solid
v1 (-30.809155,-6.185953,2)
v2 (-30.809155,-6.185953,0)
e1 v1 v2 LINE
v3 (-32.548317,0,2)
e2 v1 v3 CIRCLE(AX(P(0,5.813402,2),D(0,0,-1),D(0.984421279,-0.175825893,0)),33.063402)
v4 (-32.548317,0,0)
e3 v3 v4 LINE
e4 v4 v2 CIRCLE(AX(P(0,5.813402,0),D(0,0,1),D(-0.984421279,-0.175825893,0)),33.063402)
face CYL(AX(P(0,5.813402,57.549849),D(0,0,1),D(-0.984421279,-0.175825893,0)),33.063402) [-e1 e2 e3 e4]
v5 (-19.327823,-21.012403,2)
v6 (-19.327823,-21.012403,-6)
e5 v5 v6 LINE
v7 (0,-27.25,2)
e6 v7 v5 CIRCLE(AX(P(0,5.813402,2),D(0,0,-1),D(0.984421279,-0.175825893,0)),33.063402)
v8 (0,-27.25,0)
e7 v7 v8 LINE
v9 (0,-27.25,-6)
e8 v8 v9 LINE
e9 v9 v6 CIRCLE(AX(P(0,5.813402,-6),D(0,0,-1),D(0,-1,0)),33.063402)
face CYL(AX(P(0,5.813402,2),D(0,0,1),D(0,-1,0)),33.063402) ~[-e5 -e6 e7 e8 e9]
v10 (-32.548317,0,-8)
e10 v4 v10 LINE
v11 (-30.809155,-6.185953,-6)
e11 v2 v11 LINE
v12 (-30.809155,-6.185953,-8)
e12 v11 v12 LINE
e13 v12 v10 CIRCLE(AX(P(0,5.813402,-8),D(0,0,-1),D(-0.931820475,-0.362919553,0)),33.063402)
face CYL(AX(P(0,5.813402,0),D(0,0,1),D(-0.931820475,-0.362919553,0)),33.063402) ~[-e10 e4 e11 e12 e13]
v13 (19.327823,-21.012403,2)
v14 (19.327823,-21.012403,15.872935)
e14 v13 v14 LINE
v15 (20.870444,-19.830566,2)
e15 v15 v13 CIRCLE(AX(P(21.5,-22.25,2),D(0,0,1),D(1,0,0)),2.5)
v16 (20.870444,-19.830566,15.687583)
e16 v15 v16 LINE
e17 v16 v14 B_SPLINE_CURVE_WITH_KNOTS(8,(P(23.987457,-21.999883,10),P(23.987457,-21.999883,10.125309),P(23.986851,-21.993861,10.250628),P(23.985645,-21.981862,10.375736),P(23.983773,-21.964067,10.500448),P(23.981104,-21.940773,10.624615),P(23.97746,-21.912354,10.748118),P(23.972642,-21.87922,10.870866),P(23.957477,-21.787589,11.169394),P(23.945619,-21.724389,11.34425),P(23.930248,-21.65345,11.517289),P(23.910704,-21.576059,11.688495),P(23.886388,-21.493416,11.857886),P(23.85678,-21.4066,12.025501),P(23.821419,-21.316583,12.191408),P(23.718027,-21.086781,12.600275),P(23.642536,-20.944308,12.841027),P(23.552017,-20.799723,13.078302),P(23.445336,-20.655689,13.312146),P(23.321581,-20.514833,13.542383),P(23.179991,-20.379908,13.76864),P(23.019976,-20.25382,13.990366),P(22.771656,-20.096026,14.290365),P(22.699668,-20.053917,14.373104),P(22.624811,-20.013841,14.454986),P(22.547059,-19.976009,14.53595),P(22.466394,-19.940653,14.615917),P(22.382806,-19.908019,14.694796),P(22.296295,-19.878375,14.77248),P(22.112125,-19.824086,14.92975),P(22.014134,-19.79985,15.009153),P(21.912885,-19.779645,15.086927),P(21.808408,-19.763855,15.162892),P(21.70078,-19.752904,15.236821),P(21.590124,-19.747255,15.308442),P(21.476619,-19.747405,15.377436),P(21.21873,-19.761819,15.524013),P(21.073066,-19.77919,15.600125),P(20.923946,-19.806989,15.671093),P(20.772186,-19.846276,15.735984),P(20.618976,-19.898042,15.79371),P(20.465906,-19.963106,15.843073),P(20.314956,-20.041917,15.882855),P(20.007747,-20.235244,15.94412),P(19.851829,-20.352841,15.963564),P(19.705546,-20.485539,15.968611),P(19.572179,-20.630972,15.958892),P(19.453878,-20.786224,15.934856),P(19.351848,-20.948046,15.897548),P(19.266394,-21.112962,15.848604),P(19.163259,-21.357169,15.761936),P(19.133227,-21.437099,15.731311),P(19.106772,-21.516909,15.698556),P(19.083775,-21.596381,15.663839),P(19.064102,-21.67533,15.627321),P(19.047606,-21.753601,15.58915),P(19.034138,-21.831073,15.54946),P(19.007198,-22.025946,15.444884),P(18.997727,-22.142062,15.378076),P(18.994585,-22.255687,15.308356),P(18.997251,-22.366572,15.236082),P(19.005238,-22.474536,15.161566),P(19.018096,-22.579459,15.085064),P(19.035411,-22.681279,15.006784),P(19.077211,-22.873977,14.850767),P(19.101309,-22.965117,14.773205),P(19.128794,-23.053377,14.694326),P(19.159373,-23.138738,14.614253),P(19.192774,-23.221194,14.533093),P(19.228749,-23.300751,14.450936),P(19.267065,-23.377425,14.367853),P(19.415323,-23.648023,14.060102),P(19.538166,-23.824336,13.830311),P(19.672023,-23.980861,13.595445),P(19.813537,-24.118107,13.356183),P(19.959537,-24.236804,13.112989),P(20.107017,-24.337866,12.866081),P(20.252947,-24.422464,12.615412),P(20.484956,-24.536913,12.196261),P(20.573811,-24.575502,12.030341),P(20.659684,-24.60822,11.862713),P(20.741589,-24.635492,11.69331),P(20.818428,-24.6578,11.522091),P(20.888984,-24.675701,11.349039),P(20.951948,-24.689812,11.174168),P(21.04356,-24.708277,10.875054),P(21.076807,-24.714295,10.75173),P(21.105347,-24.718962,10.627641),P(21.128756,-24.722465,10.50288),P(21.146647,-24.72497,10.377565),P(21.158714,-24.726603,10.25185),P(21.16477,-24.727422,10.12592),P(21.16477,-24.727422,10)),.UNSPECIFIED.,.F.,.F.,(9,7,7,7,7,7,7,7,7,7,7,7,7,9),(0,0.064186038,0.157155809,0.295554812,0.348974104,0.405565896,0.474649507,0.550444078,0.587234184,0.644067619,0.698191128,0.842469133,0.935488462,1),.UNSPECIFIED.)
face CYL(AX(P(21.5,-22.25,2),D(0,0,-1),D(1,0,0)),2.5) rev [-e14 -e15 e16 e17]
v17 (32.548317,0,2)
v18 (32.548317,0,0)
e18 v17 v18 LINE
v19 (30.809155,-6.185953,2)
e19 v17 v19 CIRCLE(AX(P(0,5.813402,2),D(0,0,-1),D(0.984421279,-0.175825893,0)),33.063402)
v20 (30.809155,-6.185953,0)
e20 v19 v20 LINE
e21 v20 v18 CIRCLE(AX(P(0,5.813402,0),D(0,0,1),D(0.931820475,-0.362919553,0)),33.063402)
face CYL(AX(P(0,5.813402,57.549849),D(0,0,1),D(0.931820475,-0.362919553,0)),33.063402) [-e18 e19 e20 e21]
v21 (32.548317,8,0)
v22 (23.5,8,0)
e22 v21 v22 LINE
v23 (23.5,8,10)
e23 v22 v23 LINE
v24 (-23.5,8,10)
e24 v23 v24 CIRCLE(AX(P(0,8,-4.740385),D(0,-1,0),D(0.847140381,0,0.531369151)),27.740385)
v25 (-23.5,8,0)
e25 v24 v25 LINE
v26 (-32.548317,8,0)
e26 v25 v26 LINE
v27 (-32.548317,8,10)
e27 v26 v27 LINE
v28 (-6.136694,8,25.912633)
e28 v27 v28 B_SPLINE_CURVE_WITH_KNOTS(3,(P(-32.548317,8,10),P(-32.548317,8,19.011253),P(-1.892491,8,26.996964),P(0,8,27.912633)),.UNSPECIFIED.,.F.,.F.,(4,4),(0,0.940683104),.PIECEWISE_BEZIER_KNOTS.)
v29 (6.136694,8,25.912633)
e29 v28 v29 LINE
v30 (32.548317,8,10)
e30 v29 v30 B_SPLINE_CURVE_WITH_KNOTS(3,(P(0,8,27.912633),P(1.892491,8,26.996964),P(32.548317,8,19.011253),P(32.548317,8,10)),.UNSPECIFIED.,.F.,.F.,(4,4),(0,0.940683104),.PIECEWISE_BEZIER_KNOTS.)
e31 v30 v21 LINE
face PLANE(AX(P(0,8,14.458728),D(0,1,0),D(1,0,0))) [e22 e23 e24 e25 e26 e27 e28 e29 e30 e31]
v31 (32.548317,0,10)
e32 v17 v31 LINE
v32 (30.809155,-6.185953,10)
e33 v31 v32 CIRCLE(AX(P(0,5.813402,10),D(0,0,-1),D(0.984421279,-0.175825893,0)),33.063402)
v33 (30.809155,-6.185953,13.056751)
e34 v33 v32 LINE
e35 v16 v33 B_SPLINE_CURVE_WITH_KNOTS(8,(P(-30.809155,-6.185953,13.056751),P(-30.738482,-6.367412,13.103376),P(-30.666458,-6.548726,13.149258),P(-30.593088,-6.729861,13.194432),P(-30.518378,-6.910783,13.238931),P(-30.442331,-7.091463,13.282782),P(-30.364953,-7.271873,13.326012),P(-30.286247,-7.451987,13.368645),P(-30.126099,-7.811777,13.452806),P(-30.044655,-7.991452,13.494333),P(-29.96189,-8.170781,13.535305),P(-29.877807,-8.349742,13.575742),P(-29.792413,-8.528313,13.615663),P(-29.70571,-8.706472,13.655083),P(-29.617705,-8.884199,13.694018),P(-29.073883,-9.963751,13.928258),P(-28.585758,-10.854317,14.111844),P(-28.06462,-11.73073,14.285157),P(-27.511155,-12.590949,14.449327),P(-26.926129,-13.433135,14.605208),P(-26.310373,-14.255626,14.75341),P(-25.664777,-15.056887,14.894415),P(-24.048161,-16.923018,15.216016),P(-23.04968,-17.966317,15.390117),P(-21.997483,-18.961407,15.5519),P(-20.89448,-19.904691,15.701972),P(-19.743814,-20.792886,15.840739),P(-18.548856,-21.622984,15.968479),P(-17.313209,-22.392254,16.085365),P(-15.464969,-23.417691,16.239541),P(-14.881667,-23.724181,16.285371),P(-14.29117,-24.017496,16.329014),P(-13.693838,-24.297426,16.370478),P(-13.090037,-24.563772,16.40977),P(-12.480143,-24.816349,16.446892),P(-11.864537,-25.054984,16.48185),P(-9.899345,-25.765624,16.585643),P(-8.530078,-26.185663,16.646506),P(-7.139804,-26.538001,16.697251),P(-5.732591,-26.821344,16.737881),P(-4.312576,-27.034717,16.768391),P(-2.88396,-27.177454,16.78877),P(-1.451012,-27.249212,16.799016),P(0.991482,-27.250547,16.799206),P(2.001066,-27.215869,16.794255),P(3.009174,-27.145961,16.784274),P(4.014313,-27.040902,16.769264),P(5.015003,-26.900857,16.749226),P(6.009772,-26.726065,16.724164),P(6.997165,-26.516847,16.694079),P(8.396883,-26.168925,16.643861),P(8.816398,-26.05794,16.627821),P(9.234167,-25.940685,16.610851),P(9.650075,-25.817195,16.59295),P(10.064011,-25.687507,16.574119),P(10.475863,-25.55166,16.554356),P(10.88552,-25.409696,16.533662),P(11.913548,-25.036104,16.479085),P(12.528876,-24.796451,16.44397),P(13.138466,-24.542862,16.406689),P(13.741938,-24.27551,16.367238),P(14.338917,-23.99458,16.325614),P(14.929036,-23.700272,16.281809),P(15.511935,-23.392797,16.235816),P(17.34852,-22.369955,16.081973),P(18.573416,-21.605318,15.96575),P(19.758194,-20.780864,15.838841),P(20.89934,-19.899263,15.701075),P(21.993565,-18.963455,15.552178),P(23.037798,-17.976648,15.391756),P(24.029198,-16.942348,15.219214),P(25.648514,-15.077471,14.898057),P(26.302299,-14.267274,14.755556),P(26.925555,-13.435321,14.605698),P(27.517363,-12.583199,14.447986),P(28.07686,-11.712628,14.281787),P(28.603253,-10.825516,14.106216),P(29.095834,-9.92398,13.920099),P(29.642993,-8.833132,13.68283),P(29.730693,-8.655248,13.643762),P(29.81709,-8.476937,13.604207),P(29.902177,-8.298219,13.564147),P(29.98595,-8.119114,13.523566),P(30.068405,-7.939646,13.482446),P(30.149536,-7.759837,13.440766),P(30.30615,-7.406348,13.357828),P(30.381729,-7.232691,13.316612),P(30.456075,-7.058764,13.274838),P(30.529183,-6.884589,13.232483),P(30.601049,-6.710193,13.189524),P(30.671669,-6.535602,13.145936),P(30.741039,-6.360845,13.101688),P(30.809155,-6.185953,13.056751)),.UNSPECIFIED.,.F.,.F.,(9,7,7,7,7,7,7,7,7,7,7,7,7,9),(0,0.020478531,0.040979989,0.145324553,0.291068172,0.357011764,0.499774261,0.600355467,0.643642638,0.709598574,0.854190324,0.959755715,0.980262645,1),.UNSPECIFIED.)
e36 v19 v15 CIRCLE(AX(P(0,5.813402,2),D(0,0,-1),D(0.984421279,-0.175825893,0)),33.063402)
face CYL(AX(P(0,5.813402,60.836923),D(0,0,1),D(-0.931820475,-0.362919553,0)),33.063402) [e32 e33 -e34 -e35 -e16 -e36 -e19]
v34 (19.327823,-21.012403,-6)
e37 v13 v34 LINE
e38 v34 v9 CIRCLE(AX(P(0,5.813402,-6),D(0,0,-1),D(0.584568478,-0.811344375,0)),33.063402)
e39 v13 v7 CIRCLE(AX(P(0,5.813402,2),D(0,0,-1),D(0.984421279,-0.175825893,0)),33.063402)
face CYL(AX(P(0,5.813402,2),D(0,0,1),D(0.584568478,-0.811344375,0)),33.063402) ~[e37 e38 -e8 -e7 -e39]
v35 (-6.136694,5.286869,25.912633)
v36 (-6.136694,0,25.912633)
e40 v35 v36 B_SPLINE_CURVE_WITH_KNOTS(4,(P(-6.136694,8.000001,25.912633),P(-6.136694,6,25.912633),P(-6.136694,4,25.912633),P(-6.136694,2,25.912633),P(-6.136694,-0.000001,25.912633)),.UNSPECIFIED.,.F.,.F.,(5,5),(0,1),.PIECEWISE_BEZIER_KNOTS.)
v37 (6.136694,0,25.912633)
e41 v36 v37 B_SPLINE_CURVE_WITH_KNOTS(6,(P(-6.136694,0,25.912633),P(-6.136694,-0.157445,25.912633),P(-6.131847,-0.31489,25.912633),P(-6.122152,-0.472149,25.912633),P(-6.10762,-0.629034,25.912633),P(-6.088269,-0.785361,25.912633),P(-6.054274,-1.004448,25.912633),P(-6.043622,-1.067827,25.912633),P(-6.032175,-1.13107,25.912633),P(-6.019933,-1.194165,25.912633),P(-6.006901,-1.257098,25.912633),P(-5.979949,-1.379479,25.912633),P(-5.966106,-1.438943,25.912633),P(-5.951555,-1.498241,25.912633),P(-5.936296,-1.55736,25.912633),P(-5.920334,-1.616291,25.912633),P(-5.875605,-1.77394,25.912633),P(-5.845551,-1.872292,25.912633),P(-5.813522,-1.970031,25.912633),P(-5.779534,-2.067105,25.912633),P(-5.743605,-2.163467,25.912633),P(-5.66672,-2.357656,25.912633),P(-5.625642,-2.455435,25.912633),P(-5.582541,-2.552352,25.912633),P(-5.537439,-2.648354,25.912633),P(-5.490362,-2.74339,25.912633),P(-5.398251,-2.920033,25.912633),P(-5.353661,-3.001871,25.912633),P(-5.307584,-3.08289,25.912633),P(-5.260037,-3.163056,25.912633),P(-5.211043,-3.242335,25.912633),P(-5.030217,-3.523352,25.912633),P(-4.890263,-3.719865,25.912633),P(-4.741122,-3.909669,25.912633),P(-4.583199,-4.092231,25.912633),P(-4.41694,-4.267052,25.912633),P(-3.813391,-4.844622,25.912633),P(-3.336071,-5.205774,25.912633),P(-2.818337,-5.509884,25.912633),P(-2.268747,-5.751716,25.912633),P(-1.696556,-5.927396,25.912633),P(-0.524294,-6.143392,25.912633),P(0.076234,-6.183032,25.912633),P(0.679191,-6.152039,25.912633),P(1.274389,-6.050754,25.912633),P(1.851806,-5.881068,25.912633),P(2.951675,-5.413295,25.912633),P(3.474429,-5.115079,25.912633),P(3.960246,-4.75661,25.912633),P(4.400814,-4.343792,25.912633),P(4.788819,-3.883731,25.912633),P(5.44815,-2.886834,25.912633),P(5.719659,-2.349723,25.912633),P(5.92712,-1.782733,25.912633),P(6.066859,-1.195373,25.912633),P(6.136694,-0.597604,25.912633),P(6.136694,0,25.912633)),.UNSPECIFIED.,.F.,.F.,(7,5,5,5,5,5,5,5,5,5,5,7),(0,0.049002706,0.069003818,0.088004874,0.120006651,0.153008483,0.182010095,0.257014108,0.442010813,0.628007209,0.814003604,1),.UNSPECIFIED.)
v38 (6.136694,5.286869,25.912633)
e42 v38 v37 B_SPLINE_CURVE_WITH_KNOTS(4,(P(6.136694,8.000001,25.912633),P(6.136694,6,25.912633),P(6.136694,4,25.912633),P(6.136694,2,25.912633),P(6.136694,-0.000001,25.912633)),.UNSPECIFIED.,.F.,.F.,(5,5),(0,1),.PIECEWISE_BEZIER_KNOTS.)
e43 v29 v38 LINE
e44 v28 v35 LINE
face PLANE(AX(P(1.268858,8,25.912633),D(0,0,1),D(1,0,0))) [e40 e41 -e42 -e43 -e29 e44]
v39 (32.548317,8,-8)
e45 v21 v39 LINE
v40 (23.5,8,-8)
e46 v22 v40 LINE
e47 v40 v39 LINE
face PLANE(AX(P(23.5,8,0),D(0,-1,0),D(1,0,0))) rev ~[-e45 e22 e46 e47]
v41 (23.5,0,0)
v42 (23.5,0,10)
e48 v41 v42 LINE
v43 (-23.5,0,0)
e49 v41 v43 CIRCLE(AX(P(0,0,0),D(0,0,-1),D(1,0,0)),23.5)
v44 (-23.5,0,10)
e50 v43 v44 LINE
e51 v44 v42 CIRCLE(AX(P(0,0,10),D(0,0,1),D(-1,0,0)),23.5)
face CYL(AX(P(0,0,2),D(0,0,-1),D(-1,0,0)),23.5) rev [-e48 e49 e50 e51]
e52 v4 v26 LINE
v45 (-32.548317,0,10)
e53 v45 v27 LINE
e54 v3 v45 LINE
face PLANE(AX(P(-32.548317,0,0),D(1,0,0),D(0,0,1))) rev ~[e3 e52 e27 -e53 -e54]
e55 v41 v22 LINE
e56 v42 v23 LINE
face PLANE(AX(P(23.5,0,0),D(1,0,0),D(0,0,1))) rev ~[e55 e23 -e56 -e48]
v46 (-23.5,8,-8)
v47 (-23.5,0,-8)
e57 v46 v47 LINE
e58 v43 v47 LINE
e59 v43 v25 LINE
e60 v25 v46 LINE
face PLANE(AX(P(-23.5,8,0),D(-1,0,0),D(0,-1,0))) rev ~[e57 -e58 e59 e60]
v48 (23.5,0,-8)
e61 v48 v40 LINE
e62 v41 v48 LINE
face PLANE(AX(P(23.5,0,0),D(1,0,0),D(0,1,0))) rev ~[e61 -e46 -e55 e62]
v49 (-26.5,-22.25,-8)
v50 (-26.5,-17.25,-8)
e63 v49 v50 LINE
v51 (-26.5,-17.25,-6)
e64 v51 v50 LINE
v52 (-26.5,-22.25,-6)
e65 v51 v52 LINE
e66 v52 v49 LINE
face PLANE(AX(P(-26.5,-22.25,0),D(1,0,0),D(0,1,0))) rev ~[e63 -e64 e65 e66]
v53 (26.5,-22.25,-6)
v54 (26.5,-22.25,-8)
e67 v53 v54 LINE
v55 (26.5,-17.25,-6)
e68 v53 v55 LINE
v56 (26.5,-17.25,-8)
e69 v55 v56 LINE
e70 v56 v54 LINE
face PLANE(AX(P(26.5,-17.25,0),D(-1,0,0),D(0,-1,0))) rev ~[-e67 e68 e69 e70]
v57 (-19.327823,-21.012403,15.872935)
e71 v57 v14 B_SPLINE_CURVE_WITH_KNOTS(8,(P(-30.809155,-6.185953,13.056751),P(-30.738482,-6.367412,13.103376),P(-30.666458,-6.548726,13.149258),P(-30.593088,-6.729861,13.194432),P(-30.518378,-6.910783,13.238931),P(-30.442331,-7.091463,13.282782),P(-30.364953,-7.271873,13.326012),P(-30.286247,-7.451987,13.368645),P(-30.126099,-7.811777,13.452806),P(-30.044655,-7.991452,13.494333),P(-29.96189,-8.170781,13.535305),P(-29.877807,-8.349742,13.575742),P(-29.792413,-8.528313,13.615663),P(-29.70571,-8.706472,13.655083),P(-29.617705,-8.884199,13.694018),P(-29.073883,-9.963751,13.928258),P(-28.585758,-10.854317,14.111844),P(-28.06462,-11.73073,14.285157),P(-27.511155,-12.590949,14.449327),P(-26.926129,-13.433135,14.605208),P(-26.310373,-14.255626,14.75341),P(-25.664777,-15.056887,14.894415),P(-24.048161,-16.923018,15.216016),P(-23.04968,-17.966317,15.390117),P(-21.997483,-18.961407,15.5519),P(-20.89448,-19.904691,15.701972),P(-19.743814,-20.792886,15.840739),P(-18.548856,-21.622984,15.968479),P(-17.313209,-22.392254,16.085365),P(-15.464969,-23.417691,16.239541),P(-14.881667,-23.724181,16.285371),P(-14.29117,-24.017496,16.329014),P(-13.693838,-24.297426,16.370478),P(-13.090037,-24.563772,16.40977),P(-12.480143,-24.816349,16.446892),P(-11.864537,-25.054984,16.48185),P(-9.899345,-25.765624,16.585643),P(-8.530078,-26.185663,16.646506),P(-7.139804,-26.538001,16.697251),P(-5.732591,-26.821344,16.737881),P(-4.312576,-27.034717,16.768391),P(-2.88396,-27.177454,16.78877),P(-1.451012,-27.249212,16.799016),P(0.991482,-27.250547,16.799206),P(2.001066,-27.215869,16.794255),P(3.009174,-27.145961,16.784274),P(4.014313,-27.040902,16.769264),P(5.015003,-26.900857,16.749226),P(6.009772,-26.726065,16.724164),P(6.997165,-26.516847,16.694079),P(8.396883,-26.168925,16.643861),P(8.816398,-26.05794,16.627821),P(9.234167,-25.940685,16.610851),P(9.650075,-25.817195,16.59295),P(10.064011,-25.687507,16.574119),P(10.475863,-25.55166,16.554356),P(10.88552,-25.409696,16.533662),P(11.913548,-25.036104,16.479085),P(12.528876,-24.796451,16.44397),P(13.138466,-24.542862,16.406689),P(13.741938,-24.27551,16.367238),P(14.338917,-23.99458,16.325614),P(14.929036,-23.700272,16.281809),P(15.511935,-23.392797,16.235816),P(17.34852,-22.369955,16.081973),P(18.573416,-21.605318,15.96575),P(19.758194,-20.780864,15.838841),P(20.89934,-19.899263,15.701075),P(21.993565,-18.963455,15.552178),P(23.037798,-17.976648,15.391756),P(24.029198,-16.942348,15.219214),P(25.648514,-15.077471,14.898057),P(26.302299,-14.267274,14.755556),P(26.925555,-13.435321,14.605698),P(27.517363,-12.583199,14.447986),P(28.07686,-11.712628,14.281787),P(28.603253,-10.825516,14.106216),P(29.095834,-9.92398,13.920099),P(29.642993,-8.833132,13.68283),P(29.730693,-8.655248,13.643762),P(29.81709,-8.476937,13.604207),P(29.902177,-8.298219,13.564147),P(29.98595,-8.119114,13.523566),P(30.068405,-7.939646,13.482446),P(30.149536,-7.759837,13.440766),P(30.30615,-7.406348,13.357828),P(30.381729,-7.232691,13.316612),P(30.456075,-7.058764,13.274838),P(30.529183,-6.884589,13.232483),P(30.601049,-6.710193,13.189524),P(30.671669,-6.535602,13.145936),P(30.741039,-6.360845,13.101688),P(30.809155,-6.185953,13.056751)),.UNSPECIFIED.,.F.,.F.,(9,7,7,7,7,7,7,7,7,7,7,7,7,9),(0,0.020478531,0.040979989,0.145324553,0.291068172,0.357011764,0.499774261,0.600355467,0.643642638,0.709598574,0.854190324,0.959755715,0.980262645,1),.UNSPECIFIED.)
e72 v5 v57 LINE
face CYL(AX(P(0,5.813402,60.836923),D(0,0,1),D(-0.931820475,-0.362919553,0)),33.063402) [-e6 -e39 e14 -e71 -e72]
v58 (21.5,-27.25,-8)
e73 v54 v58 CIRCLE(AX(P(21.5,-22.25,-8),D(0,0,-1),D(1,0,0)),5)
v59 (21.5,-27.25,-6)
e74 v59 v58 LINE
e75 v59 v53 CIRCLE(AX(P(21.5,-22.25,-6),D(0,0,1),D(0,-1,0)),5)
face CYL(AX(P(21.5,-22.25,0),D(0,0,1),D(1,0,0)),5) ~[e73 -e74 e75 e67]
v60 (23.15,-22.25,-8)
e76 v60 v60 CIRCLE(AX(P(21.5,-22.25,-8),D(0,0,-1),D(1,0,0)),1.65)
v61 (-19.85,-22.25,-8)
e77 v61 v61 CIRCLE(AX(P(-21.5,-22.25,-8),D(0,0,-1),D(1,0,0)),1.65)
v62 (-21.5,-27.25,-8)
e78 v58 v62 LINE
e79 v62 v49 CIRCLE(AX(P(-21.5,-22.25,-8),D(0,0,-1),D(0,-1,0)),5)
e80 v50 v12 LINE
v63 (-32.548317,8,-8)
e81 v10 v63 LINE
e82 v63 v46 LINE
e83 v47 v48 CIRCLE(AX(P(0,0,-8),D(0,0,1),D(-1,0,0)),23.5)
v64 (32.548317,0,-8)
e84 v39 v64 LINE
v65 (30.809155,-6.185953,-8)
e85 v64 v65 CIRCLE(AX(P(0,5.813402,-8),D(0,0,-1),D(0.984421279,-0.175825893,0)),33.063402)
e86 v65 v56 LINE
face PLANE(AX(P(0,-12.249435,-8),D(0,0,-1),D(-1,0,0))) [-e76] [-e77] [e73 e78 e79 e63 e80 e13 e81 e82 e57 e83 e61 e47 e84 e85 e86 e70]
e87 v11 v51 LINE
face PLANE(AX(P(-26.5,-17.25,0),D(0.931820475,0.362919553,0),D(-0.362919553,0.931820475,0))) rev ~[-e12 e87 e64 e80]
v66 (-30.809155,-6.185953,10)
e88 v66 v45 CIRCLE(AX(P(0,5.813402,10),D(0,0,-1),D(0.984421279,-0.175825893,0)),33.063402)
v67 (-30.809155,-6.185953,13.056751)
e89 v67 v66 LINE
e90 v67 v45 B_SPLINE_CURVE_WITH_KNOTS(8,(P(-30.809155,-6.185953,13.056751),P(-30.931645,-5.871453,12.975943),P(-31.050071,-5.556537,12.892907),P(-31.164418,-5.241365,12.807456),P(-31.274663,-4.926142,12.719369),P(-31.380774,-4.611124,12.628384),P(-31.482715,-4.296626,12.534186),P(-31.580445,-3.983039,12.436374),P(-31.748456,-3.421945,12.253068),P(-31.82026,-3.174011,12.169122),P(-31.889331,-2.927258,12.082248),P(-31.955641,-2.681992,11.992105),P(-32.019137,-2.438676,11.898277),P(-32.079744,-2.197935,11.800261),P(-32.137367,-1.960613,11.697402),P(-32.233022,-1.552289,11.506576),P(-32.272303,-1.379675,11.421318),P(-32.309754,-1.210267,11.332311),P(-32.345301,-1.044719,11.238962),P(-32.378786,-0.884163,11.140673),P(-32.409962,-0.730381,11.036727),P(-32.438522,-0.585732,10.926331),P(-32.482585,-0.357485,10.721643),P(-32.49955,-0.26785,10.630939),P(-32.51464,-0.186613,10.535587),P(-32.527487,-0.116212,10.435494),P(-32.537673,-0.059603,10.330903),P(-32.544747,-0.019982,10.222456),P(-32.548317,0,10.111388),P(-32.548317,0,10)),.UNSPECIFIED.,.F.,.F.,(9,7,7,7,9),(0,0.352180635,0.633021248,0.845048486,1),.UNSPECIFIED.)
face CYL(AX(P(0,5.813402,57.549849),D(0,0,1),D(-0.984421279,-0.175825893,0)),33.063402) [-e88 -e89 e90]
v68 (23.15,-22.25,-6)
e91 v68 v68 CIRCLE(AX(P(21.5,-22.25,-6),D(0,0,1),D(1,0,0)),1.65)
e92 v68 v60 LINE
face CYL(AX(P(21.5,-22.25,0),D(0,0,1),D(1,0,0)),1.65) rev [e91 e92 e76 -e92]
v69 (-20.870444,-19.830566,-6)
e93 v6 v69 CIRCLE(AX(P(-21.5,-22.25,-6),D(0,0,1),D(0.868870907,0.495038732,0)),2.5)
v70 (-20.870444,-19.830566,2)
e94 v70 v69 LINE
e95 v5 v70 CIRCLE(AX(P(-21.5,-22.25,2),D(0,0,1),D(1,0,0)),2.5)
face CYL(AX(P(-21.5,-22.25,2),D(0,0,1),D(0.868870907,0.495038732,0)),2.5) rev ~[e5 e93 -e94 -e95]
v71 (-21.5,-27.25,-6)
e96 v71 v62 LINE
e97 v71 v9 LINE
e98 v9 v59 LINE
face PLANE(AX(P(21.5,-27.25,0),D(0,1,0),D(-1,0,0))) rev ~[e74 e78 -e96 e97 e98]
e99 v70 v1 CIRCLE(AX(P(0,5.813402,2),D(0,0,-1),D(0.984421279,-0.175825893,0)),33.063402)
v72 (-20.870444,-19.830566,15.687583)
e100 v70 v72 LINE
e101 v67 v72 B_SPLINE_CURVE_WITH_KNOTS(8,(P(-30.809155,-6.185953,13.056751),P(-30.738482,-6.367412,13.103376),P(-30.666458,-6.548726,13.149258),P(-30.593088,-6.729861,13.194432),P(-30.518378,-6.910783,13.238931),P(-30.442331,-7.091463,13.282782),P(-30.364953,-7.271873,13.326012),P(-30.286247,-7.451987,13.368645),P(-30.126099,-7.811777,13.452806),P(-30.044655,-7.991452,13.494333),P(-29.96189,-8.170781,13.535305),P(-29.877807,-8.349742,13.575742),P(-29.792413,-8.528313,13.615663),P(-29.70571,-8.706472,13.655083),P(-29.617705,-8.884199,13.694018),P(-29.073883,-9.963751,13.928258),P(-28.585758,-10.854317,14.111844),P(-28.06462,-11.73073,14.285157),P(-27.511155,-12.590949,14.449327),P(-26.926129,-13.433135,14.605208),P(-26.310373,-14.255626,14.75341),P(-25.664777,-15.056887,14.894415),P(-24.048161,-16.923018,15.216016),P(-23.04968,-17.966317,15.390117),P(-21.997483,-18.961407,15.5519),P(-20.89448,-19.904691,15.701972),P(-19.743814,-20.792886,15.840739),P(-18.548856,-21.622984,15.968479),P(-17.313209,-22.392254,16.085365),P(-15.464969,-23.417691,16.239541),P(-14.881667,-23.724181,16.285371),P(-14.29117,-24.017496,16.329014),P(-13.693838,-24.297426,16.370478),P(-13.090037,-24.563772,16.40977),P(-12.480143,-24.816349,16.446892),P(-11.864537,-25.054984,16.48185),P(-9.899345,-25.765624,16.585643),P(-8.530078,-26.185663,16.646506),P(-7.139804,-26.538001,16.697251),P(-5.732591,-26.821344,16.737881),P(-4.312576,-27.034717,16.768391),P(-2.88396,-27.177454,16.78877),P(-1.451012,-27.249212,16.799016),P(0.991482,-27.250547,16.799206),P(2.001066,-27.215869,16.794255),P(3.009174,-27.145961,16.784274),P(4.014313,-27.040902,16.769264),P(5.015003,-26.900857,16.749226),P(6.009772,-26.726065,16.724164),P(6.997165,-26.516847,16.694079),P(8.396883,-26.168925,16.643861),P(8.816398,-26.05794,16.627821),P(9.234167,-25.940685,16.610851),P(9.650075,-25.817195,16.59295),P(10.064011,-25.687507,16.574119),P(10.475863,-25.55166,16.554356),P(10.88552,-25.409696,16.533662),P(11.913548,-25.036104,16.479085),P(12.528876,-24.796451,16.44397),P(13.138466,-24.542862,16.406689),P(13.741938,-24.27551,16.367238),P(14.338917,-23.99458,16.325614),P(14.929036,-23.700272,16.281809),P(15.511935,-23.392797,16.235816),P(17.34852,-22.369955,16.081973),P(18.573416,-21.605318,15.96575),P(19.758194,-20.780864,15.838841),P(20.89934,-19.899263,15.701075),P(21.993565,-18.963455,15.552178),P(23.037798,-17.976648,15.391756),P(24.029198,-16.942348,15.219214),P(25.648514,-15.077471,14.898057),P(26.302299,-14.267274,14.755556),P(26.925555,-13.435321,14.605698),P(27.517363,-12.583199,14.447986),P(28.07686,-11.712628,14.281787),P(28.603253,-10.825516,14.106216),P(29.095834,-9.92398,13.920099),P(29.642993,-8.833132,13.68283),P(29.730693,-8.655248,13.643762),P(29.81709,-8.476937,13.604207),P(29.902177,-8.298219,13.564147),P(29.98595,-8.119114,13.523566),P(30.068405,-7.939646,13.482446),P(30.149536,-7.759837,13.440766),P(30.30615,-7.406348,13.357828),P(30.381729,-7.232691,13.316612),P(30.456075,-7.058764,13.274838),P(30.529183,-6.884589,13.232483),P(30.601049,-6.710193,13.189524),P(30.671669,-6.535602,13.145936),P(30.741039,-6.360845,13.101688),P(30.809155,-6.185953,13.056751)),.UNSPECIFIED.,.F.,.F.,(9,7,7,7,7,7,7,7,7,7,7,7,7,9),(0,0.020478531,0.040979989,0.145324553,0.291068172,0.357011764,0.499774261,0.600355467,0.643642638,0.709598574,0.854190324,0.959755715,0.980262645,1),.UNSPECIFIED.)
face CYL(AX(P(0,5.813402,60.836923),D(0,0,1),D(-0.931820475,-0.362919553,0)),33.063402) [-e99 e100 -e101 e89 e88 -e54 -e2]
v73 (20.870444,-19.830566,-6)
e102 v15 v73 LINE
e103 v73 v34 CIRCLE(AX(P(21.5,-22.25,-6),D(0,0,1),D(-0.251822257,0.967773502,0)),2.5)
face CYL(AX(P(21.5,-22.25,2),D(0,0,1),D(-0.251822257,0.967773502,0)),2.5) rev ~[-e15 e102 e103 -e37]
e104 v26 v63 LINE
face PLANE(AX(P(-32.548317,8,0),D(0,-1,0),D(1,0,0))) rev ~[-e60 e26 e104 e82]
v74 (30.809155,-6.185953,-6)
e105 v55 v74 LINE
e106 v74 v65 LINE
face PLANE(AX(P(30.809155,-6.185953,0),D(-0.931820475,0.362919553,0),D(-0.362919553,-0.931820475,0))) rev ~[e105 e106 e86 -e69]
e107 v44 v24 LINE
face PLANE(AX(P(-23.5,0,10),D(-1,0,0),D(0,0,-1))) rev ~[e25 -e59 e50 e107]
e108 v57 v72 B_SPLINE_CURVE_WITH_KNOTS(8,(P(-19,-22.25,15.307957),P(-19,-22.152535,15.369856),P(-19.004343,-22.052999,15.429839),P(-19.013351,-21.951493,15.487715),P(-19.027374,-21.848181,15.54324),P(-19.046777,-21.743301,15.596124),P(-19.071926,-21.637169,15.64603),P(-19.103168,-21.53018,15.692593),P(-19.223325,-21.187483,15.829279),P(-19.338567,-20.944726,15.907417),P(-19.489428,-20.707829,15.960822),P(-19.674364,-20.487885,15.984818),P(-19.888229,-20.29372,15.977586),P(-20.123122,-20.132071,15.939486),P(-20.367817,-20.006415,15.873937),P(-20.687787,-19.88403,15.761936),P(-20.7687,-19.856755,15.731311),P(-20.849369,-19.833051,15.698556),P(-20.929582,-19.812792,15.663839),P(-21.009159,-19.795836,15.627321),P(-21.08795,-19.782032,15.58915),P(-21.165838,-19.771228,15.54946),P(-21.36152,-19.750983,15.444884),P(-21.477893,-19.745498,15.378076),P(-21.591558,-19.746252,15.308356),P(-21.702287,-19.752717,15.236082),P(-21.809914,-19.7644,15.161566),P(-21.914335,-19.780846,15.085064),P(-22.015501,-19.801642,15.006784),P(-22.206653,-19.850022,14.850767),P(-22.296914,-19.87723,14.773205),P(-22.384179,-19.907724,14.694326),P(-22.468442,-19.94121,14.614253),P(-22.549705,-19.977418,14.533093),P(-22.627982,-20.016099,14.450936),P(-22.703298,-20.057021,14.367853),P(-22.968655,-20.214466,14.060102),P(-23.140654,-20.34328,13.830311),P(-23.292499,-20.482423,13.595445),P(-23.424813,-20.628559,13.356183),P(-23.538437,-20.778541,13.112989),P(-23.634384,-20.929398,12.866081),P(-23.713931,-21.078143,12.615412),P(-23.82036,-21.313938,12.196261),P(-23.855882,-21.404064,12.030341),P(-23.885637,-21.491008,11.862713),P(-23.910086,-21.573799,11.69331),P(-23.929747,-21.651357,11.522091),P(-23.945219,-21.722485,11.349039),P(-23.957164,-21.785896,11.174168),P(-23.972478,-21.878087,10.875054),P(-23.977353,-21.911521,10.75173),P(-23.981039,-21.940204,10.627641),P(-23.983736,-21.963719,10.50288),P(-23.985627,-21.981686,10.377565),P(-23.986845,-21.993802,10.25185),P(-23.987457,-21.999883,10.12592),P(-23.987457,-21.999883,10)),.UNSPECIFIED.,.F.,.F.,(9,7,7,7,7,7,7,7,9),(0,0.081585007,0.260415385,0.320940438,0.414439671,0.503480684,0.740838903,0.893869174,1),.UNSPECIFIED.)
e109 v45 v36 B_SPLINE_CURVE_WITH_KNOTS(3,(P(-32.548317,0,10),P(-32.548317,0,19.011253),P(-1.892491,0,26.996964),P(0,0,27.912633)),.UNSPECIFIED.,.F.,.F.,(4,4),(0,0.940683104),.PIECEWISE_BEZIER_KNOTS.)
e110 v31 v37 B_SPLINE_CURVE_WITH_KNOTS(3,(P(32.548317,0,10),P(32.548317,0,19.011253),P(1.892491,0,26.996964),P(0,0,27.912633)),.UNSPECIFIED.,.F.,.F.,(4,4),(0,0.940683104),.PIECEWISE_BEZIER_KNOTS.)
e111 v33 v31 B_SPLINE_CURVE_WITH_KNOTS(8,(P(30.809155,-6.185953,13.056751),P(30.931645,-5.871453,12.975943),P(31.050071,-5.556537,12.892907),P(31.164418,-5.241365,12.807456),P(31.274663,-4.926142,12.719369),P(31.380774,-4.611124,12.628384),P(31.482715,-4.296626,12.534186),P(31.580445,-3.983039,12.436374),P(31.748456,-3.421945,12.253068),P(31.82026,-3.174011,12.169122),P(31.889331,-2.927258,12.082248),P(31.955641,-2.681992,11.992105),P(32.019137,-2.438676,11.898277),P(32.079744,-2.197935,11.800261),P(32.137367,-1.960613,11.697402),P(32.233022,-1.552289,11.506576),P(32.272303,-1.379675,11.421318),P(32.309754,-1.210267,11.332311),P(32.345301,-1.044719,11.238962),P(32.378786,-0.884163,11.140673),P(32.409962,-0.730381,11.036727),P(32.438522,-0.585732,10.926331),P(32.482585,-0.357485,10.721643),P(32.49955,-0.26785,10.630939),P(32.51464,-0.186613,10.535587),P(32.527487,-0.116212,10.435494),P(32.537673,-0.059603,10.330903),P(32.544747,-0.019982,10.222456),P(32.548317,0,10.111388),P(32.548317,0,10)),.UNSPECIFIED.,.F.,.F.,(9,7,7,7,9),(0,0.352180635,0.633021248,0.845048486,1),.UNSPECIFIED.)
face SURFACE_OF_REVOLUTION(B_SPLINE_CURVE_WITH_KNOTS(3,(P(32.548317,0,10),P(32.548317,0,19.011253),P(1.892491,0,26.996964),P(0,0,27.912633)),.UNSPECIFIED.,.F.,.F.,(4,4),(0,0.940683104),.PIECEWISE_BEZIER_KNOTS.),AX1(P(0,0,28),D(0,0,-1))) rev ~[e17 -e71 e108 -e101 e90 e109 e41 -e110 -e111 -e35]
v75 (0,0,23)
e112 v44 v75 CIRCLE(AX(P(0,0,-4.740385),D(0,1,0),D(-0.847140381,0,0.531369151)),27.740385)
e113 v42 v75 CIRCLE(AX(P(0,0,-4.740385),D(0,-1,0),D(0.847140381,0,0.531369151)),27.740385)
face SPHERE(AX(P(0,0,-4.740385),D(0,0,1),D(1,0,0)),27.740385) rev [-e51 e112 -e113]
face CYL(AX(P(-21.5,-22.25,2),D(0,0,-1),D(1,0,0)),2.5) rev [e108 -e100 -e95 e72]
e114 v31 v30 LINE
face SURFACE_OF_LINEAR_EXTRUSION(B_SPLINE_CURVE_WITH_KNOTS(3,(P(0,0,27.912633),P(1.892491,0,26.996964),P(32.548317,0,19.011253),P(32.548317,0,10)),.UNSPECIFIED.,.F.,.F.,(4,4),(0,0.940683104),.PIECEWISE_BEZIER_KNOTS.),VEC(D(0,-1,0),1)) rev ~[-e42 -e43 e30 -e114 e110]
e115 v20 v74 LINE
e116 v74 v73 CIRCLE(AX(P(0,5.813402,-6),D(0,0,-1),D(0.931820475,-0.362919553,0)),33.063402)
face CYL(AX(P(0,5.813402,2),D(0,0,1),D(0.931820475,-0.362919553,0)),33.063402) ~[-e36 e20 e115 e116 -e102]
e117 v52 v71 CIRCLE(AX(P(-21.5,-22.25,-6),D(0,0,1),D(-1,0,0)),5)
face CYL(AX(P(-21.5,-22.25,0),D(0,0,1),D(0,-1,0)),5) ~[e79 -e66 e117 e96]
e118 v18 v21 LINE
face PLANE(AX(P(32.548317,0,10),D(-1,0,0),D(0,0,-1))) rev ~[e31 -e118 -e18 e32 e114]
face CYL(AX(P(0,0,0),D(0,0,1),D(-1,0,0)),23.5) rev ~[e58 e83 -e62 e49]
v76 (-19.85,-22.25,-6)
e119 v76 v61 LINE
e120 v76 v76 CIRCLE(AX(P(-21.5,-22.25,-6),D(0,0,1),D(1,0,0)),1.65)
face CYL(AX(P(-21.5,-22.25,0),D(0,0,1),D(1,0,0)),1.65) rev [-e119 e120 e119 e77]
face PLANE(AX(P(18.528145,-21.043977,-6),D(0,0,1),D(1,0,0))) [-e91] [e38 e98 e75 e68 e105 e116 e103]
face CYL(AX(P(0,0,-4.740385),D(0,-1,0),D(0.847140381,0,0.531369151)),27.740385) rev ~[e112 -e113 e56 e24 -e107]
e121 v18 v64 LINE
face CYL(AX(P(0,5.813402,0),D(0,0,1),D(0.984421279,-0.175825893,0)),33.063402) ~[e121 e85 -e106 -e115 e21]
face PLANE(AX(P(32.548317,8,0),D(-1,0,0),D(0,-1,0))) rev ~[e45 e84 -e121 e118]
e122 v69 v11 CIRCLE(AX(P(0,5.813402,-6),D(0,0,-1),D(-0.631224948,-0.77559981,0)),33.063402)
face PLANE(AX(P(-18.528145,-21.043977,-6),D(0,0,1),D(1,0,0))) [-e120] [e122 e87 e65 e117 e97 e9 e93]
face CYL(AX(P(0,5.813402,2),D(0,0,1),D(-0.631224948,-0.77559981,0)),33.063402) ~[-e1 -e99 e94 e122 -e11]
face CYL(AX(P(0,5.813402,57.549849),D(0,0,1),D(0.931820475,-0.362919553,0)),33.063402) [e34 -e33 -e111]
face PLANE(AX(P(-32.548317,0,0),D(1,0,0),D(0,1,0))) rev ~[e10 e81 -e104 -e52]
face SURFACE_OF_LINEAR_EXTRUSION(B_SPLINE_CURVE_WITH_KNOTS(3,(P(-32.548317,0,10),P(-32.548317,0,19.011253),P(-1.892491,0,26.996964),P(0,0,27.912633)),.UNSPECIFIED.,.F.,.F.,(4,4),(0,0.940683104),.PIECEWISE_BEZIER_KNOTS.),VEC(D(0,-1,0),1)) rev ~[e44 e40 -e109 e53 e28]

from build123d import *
from build123d.topology import SkipClean

# Parameters (mm, degrees)
EXTRUDE_1_DEPTH           = 2
FILLET_1_R                = 5
SKETCH_2_R                = 1.65
EXTRUDE_2_DEPTH           = 2
SKETCH_2_2_R              = 1.65
CUT_EXTRUDE_1_DEPTH       = 2
EXTRUDE_3_DEPTH           = 8
REVOLVE_4_ANGLE           = 180
CUT_EXTRUDE_3_DEPTH       = 8
CUT_EXTRUDE_3_DEPTH_BACK  = 50.836922569
CUT_EXTRUDE_4_DEPTH       = 47.549848859
CUT_EXTRUDE_4_DEPTH_BACK  = 47.549848859
EXTRUDE_4_DEPTH           = 8
CUT_EXTRUDE_15_DEPTH      = 2
CUT_EXTRUDE_15_DEPTH_BACK = 51.804237139
SKETCH_16_R               = 8.1
CUT_EXTRUDE_16_DEPTH      = 56.283591172
SKETCH_18_R               = 2.5
CUT_EXTRUDE_17_DEPTH      = 49.721344888
SKETCH_19_R               = 1.65
EXTRUDE_5_DEPTH           = 8
SKETCH_20_R               = 1.65
CUT_EXTRUDE_18_DEPTH      = 8


with BuildPart() as part:
    # 草图1 → 凸台-拉伸1 (new body)
    with BuildSketch(Plane.XY):
        with BuildLine():
            Line((-23.5, 0), (-26.5, 0))
            Line((-26.5, 0), (-26.5, -27.25))
            Line((-26.5, -27.25), (26.5, -27.25))
            Line((26.5, -27.25), (26.5, 0))
            Line((26.5, 0), (23.5, 0))
            ThreePointArc((23.5, 0), (0, -23.5), (-23.5, 0))
        make_face()
    extrude(amount=EXTRUDE_1_DEPTH)

    # 圆角1
    fillet_1_edges = [part.edges().sort_by_distance(p)[0] for p in [
        (-26.5, -27.25, 1),
        (26.5, -27.25, 1),
    ]]
    fillet(fillet_1_edges, radius=FILLET_1_R)

    # 草图2 → 凸台-拉伸2 (add)
    with BuildSketch(Plane.XY.offset(2)):
        with Locations((-21.5, -22.25)):
            Circle(SKETCH_2_R)
        with Locations((21.5, -22.25)):
            Circle(SKETCH_2_R)
        Polygon((33.218421053, 0), (26.5, -17.25), (26.5, 0), align=None)
        Polygon((-26.5, -17.25), (-33.218421053, 0), (-26.5, 0), align=None)
    extrude(amount=-EXTRUDE_2_DEPTH)

    # 草图2<2> → 切除-拉伸1 (cut)
    with BuildSketch(Plane.XY.offset(2)):
        with Locations((-21.5, -22.25)):
            Circle(SKETCH_2_2_R)
        with Locations((21.5, -22.25)):
            Circle(SKETCH_2_2_R)
    extrude(amount=-CUT_EXTRUDE_1_DEPTH, mode=Mode.SUBTRACT)

    # 草图5 → 凸台-拉伸3 (add)
    with BuildSketch(Plane.XY.offset(2)):
        with BuildLine():
            Line((23.5, 0), (32.54831672, 0))
            ThreePointArc((32.54831672, 0), (0, -27.25), (-32.54831672, 0))
            Line((-32.54831672, 0), (-23.5, 0))
            ThreePointArc((-23.5, 0), (0, -23.5), (23.5, 0))
        make_face()
    extrude(amount=EXTRUDE_3_DEPTH)

    # 草图8 → 旋转4 (revolve)
    with BuildSketch(Plane(origin=(0, 0, 0), x_dir=(1, 0, 0), z_dir=(0, 1, 0))):
        with BuildLine():
            add(Edge.make_bspline(
                [(32.54831672, -10), (32.54831672, -19.011252641), (1.892491424, -26.996963713), (0, -27.912632857)],
                knots=[0, 0, 0, 0, 0.940683104, 0.940683104, 0.940683104, 0.940683104], degree=3))
            Line((32.54831672, -10), (23.5, -10))
            ThreePointArc((23.5, -10), (13.428049002, -19.533396273), (0, -23))
            Line((0, -23), (0, -27.912632857))
        make_face()
    revolve(axis=Axis((0, 0, 28), (0, 0, -1)), revolution_arc=REVOLVE_4_ANGLE)

    # 草图11 → 切除-拉伸3 (cut, two sides: drawn at the far end of the back side and taken through both)
    with BuildSketch(Plane(origin=(0, 0, 10), x_dir=(-1, 0, 0), z_dir=(0, 0, -1)).offset(-CUT_EXTRUDE_3_DEPTH_BACK)):
        with BuildLine():
            Line((-30.809155169, -6.185952945), (-32.495321725, -1.856606381))
            ThreePointArc((-32.495321725, -1.856606381), (0, -32.54831672), (32.495321725, -1.856606381))
            Line((32.495321725, -1.856606381), (30.809155169, -6.185952945))
            ThreePointArc((30.809155169, -6.185952945), (0, -27.25), (-30.809155169, -6.185952945))
        make_face()
    extrude(amount=CUT_EXTRUDE_3_DEPTH + CUT_EXTRUDE_3_DEPTH_BACK, mode=Mode.SUBTRACT)

    # 草图11<3> → 切除-拉伸4 (cut, two sides: drawn at the far end of the back side and taken through both)
    with BuildSketch(Plane(origin=(0, 0, 10), x_dir=(-1, 0, 0), z_dir=(0, 0, -1)).offset(-CUT_EXTRUDE_4_DEPTH_BACK)):
        with BuildLine():
            Line((-32.54831672, 0), (-33.218421053, 0))
            Line((-33.218421053, 0), (-30.809155169, -6.185952945))
            ThreePointArc((-30.809155169, -6.185952945), (-31.829370312, -3.13532686), (-32.54831672, 0))
        make_face()
        with BuildLine():
            Line((33.218421053, 0), (32.54831672, 0))
            ThreePointArc((32.54831672, 0), (31.829370312, -3.13532686), (30.809155169, -6.185952945))
            Line((30.809155169, -6.185952945), (33.218421053, 0))
        make_face()
    extrude(amount=CUT_EXTRUDE_4_DEPTH + CUT_EXTRUDE_4_DEPTH_BACK, mode=Mode.SUBTRACT)

    # 草图13 → 凸台-拉伸4 (add)
    with BuildSketch(Plane(origin=(0, 0, 0), x_dir=(1, 0, 0), z_dir=(0, 1, 0))):
        with BuildLine():
            Line((-23.5, 0), (-32.54831672, 0))
            Line((-32.54831672, 0), (-32.54831672, -10))
            add(Edge.make_bspline(
                [(-32.54831672, -10), (-32.54831672, -19.011252636), (-1.892491463, -26.996963703), (-4e-09, -27.912632855)],
                knots=[0, 0, 0, 0, 0.940683104, 0.940683104, 0.940683104, 0.940683104], degree=3))
            add(Edge.make_bspline(
                [(-4e-09, -27.912632855), (1.892491463, -26.996963703), (32.54831672, -19.011252636), (32.54831672, -10)],
                knots=[0, 0, 0, 0, 0.940683104, 0.940683104, 0.940683104, 0.940683104], degree=3))
            Line((32.54831672, -10), (32.54831672, 0))
            Line((32.54831672, 0), (23.5, 0))
            Line((23.5, 0), (23.5, -10))
            ThreePointArc((23.5, -10), (0, -23), (-23.5, -10))
            Line((-23.5, -10), (-23.5, 0))
        make_face()
    extrude(amount=EXTRUDE_4_DEPTH)

    # 草图16 → 切除-拉伸15 (cut, two sides: drawn at the far end of the back side and taken through both)
    with BuildSketch(Plane(origin=(0, 0, 27.912632848), x_dir=(-1, 0, 0), z_dir=(0, 0, -1)).offset(-CUT_EXTRUDE_15_DEPTH_BACK)):
        Circle(SKETCH_16_R)
    extrude(amount=CUT_EXTRUDE_15_DEPTH + CUT_EXTRUDE_15_DEPTH_BACK, mode=Mode.SUBTRACT)

    # 草图17 → 切除-拉伸16 (cut, through all)
    with BuildSketch(Plane(origin=(0, 8, 0), x_dir=(1, 0, 0), z_dir=(0, 1, 0))):
        with BuildLine():
            Line((-6.136694484, -25.912632848), (-1.268857754, -25.912632848))
            Line((-1.268857754, -25.912632848), (-1.268857754, -27.464886901))
            add(Edge.make_bspline(
                [(-1.268857754, -27.464886901), (-2.37160723, -27.10853767), (-4.077764087, -26.58262095), (-6.136694484, -25.912632848)],
                knots=[0.699251463, 0.699251463, 0.699251463, 0.699251463, 0.851241237, 0.851241237, 0.851241237, 0.851241237], degree=3))
        make_face()
        with BuildLine():
            Line((1.268857754, -27.464886901), (1.268857754, -25.912632848))
            Line((1.268857754, -25.912632848), (6.136694484, -25.912632848))
            add(Edge.make_bspline(
                [(6.136694484, -25.912632848), (4.077764087, -26.58262095), (2.37160723, -27.10853767), (1.268857754, -27.464886901)],
                knots=[0.089441867, 0.089441867, 0.089441867, 0.089441867, 0.241431641, 0.241431641, 0.241431641, 0.241431641], degree=3))
        make_face()
    extrude(amount=-CUT_EXTRUDE_16_DEPTH, mode=Mode.SUBTRACT)

    # 草图18 → 切除-拉伸17 (cut, through all)
    with BuildSketch(Plane.XY.offset(2)):
        with Locations((-21.5, -22.25)):
            Circle(SKETCH_18_R)
        with Locations((21.5, -22.25)):
            Circle(SKETCH_18_R)
    extrude(amount=CUT_EXTRUDE_17_DEPTH, mode=Mode.SUBTRACT)

    # 草图19 → 凸台-拉伸5 (add)
    with SkipClean():  # the faces are left unmerged after this step: merging them gives an invalid solid
        with BuildSketch(Plane(origin=(0, 0, 0), x_dir=(-1, 0, 0), z_dir=(0, 0, -1))):
            with BuildLine():
                Line((26.5, -17.25), (30.809155169, -6.185952945))
                ThreePointArc((30.809155169, -6.185952945), (31.829370312, -3.13532686), (32.54831672, 0))
                Line((32.54831672, 0), (32.54831672, 8))
                Line((32.54831672, 8), (23.5, 8))
                Line((23.5, 8), (23.5, 0))
                ThreePointArc((23.5, 0), (0, -23.5), (-23.5, 0))
                Line((-23.5, 0), (-23.5, 8))
                Line((-23.5, 8), (-32.54831672, 8))
                Line((-32.54831672, 8), (-32.54831672, 0))
                ThreePointArc((-32.54831672, 0), (-31.829370312, -3.13532686), (-30.809155169, -6.185952945))
                Line((-30.809155169, -6.185952945), (-26.5, -17.25))
                Line((-26.5, -17.25), (-26.5, -22.25))
                ThreePointArc((-26.5, -22.25), (-25.035533906, -25.785533906), (-21.5, -27.25))
                Line((-21.5, -27.25), (21.5, -27.25))
                ThreePointArc((21.5, -27.25), (25.035533906, -25.785533906), (26.5, -22.25))
                Line((26.5, -22.25), (26.5, -17.25))
            make_face()
            with Locations((21.5, -22.25)):
                Circle(SKETCH_19_R, mode=Mode.SUBTRACT)
            with Locations((-21.5, -22.25)):
                Circle(SKETCH_19_R, mode=Mode.SUBTRACT)
        extrude(amount=EXTRUDE_5_DEPTH)

    # 草图20 → 切除-拉伸18 (cut)
    # profile 1 of 2: a face of its own
    with SkipClean():  # the faces are left unmerged after this step: merging them gives an invalid solid
        with BuildSketch(Plane.XY.offset(2)):
            with BuildLine():
                ThreePointArc((19.32782273, -21.012403172), (10.154707599, -25.651983205), (0, -27.25))
                Line((0, -27.25), (21.5, -27.25))
                ThreePointArc((21.5, -27.25), (25.035533906, -25.785533906), (26.5, -22.25))
                Line((26.5, -22.25), (26.5, -17.25))
                Line((26.5, -17.25), (30.809155169, -6.185952945))
                ThreePointArc((30.809155169, -6.185952945), (26.725252476, -13.653221694), (20.870444361, -19.830566244))
                ThreePointArc((20.870444361, -19.830566244), (19.979601548, -20.265462637), (19.32782273, -21.012403172))
            make_face()
        # profile 2 of 2: a face of its own
        with BuildSketch(Plane.XY.offset(2)):
            with BuildLine():
                Line((-21.5, -27.25), (0, -27.25))
                ThreePointArc((0, -27.25), (-10.154707599, -25.651983205), (-19.32782273, -21.012403172))
                ThreePointArc((-19.32782273, -21.012403172), (-19.979601548, -20.265462637), (-20.870444361, -19.830566244))
                ThreePointArc((-20.870444361, -19.830566244), (-26.725252476, -13.653221694), (-30.809155169, -6.185952945))
                Line((-30.809155169, -6.185952945), (-26.5, -17.25))
                Line((-26.5, -17.25), (-26.5, -22.25))
                ThreePointArc((-26.5, -22.25), (-25.035533906, -25.785533906), (-21.5, -27.25))
            make_face()
            with Locations((-21.5, -22.25)):
                Circle(SKETCH_20_R, mode=Mode.SUBTRACT)
        extrude(amount=-CUT_EXTRUDE_18_DEPTH, mode=Mode.SUBTRACT)


solid = part.part
